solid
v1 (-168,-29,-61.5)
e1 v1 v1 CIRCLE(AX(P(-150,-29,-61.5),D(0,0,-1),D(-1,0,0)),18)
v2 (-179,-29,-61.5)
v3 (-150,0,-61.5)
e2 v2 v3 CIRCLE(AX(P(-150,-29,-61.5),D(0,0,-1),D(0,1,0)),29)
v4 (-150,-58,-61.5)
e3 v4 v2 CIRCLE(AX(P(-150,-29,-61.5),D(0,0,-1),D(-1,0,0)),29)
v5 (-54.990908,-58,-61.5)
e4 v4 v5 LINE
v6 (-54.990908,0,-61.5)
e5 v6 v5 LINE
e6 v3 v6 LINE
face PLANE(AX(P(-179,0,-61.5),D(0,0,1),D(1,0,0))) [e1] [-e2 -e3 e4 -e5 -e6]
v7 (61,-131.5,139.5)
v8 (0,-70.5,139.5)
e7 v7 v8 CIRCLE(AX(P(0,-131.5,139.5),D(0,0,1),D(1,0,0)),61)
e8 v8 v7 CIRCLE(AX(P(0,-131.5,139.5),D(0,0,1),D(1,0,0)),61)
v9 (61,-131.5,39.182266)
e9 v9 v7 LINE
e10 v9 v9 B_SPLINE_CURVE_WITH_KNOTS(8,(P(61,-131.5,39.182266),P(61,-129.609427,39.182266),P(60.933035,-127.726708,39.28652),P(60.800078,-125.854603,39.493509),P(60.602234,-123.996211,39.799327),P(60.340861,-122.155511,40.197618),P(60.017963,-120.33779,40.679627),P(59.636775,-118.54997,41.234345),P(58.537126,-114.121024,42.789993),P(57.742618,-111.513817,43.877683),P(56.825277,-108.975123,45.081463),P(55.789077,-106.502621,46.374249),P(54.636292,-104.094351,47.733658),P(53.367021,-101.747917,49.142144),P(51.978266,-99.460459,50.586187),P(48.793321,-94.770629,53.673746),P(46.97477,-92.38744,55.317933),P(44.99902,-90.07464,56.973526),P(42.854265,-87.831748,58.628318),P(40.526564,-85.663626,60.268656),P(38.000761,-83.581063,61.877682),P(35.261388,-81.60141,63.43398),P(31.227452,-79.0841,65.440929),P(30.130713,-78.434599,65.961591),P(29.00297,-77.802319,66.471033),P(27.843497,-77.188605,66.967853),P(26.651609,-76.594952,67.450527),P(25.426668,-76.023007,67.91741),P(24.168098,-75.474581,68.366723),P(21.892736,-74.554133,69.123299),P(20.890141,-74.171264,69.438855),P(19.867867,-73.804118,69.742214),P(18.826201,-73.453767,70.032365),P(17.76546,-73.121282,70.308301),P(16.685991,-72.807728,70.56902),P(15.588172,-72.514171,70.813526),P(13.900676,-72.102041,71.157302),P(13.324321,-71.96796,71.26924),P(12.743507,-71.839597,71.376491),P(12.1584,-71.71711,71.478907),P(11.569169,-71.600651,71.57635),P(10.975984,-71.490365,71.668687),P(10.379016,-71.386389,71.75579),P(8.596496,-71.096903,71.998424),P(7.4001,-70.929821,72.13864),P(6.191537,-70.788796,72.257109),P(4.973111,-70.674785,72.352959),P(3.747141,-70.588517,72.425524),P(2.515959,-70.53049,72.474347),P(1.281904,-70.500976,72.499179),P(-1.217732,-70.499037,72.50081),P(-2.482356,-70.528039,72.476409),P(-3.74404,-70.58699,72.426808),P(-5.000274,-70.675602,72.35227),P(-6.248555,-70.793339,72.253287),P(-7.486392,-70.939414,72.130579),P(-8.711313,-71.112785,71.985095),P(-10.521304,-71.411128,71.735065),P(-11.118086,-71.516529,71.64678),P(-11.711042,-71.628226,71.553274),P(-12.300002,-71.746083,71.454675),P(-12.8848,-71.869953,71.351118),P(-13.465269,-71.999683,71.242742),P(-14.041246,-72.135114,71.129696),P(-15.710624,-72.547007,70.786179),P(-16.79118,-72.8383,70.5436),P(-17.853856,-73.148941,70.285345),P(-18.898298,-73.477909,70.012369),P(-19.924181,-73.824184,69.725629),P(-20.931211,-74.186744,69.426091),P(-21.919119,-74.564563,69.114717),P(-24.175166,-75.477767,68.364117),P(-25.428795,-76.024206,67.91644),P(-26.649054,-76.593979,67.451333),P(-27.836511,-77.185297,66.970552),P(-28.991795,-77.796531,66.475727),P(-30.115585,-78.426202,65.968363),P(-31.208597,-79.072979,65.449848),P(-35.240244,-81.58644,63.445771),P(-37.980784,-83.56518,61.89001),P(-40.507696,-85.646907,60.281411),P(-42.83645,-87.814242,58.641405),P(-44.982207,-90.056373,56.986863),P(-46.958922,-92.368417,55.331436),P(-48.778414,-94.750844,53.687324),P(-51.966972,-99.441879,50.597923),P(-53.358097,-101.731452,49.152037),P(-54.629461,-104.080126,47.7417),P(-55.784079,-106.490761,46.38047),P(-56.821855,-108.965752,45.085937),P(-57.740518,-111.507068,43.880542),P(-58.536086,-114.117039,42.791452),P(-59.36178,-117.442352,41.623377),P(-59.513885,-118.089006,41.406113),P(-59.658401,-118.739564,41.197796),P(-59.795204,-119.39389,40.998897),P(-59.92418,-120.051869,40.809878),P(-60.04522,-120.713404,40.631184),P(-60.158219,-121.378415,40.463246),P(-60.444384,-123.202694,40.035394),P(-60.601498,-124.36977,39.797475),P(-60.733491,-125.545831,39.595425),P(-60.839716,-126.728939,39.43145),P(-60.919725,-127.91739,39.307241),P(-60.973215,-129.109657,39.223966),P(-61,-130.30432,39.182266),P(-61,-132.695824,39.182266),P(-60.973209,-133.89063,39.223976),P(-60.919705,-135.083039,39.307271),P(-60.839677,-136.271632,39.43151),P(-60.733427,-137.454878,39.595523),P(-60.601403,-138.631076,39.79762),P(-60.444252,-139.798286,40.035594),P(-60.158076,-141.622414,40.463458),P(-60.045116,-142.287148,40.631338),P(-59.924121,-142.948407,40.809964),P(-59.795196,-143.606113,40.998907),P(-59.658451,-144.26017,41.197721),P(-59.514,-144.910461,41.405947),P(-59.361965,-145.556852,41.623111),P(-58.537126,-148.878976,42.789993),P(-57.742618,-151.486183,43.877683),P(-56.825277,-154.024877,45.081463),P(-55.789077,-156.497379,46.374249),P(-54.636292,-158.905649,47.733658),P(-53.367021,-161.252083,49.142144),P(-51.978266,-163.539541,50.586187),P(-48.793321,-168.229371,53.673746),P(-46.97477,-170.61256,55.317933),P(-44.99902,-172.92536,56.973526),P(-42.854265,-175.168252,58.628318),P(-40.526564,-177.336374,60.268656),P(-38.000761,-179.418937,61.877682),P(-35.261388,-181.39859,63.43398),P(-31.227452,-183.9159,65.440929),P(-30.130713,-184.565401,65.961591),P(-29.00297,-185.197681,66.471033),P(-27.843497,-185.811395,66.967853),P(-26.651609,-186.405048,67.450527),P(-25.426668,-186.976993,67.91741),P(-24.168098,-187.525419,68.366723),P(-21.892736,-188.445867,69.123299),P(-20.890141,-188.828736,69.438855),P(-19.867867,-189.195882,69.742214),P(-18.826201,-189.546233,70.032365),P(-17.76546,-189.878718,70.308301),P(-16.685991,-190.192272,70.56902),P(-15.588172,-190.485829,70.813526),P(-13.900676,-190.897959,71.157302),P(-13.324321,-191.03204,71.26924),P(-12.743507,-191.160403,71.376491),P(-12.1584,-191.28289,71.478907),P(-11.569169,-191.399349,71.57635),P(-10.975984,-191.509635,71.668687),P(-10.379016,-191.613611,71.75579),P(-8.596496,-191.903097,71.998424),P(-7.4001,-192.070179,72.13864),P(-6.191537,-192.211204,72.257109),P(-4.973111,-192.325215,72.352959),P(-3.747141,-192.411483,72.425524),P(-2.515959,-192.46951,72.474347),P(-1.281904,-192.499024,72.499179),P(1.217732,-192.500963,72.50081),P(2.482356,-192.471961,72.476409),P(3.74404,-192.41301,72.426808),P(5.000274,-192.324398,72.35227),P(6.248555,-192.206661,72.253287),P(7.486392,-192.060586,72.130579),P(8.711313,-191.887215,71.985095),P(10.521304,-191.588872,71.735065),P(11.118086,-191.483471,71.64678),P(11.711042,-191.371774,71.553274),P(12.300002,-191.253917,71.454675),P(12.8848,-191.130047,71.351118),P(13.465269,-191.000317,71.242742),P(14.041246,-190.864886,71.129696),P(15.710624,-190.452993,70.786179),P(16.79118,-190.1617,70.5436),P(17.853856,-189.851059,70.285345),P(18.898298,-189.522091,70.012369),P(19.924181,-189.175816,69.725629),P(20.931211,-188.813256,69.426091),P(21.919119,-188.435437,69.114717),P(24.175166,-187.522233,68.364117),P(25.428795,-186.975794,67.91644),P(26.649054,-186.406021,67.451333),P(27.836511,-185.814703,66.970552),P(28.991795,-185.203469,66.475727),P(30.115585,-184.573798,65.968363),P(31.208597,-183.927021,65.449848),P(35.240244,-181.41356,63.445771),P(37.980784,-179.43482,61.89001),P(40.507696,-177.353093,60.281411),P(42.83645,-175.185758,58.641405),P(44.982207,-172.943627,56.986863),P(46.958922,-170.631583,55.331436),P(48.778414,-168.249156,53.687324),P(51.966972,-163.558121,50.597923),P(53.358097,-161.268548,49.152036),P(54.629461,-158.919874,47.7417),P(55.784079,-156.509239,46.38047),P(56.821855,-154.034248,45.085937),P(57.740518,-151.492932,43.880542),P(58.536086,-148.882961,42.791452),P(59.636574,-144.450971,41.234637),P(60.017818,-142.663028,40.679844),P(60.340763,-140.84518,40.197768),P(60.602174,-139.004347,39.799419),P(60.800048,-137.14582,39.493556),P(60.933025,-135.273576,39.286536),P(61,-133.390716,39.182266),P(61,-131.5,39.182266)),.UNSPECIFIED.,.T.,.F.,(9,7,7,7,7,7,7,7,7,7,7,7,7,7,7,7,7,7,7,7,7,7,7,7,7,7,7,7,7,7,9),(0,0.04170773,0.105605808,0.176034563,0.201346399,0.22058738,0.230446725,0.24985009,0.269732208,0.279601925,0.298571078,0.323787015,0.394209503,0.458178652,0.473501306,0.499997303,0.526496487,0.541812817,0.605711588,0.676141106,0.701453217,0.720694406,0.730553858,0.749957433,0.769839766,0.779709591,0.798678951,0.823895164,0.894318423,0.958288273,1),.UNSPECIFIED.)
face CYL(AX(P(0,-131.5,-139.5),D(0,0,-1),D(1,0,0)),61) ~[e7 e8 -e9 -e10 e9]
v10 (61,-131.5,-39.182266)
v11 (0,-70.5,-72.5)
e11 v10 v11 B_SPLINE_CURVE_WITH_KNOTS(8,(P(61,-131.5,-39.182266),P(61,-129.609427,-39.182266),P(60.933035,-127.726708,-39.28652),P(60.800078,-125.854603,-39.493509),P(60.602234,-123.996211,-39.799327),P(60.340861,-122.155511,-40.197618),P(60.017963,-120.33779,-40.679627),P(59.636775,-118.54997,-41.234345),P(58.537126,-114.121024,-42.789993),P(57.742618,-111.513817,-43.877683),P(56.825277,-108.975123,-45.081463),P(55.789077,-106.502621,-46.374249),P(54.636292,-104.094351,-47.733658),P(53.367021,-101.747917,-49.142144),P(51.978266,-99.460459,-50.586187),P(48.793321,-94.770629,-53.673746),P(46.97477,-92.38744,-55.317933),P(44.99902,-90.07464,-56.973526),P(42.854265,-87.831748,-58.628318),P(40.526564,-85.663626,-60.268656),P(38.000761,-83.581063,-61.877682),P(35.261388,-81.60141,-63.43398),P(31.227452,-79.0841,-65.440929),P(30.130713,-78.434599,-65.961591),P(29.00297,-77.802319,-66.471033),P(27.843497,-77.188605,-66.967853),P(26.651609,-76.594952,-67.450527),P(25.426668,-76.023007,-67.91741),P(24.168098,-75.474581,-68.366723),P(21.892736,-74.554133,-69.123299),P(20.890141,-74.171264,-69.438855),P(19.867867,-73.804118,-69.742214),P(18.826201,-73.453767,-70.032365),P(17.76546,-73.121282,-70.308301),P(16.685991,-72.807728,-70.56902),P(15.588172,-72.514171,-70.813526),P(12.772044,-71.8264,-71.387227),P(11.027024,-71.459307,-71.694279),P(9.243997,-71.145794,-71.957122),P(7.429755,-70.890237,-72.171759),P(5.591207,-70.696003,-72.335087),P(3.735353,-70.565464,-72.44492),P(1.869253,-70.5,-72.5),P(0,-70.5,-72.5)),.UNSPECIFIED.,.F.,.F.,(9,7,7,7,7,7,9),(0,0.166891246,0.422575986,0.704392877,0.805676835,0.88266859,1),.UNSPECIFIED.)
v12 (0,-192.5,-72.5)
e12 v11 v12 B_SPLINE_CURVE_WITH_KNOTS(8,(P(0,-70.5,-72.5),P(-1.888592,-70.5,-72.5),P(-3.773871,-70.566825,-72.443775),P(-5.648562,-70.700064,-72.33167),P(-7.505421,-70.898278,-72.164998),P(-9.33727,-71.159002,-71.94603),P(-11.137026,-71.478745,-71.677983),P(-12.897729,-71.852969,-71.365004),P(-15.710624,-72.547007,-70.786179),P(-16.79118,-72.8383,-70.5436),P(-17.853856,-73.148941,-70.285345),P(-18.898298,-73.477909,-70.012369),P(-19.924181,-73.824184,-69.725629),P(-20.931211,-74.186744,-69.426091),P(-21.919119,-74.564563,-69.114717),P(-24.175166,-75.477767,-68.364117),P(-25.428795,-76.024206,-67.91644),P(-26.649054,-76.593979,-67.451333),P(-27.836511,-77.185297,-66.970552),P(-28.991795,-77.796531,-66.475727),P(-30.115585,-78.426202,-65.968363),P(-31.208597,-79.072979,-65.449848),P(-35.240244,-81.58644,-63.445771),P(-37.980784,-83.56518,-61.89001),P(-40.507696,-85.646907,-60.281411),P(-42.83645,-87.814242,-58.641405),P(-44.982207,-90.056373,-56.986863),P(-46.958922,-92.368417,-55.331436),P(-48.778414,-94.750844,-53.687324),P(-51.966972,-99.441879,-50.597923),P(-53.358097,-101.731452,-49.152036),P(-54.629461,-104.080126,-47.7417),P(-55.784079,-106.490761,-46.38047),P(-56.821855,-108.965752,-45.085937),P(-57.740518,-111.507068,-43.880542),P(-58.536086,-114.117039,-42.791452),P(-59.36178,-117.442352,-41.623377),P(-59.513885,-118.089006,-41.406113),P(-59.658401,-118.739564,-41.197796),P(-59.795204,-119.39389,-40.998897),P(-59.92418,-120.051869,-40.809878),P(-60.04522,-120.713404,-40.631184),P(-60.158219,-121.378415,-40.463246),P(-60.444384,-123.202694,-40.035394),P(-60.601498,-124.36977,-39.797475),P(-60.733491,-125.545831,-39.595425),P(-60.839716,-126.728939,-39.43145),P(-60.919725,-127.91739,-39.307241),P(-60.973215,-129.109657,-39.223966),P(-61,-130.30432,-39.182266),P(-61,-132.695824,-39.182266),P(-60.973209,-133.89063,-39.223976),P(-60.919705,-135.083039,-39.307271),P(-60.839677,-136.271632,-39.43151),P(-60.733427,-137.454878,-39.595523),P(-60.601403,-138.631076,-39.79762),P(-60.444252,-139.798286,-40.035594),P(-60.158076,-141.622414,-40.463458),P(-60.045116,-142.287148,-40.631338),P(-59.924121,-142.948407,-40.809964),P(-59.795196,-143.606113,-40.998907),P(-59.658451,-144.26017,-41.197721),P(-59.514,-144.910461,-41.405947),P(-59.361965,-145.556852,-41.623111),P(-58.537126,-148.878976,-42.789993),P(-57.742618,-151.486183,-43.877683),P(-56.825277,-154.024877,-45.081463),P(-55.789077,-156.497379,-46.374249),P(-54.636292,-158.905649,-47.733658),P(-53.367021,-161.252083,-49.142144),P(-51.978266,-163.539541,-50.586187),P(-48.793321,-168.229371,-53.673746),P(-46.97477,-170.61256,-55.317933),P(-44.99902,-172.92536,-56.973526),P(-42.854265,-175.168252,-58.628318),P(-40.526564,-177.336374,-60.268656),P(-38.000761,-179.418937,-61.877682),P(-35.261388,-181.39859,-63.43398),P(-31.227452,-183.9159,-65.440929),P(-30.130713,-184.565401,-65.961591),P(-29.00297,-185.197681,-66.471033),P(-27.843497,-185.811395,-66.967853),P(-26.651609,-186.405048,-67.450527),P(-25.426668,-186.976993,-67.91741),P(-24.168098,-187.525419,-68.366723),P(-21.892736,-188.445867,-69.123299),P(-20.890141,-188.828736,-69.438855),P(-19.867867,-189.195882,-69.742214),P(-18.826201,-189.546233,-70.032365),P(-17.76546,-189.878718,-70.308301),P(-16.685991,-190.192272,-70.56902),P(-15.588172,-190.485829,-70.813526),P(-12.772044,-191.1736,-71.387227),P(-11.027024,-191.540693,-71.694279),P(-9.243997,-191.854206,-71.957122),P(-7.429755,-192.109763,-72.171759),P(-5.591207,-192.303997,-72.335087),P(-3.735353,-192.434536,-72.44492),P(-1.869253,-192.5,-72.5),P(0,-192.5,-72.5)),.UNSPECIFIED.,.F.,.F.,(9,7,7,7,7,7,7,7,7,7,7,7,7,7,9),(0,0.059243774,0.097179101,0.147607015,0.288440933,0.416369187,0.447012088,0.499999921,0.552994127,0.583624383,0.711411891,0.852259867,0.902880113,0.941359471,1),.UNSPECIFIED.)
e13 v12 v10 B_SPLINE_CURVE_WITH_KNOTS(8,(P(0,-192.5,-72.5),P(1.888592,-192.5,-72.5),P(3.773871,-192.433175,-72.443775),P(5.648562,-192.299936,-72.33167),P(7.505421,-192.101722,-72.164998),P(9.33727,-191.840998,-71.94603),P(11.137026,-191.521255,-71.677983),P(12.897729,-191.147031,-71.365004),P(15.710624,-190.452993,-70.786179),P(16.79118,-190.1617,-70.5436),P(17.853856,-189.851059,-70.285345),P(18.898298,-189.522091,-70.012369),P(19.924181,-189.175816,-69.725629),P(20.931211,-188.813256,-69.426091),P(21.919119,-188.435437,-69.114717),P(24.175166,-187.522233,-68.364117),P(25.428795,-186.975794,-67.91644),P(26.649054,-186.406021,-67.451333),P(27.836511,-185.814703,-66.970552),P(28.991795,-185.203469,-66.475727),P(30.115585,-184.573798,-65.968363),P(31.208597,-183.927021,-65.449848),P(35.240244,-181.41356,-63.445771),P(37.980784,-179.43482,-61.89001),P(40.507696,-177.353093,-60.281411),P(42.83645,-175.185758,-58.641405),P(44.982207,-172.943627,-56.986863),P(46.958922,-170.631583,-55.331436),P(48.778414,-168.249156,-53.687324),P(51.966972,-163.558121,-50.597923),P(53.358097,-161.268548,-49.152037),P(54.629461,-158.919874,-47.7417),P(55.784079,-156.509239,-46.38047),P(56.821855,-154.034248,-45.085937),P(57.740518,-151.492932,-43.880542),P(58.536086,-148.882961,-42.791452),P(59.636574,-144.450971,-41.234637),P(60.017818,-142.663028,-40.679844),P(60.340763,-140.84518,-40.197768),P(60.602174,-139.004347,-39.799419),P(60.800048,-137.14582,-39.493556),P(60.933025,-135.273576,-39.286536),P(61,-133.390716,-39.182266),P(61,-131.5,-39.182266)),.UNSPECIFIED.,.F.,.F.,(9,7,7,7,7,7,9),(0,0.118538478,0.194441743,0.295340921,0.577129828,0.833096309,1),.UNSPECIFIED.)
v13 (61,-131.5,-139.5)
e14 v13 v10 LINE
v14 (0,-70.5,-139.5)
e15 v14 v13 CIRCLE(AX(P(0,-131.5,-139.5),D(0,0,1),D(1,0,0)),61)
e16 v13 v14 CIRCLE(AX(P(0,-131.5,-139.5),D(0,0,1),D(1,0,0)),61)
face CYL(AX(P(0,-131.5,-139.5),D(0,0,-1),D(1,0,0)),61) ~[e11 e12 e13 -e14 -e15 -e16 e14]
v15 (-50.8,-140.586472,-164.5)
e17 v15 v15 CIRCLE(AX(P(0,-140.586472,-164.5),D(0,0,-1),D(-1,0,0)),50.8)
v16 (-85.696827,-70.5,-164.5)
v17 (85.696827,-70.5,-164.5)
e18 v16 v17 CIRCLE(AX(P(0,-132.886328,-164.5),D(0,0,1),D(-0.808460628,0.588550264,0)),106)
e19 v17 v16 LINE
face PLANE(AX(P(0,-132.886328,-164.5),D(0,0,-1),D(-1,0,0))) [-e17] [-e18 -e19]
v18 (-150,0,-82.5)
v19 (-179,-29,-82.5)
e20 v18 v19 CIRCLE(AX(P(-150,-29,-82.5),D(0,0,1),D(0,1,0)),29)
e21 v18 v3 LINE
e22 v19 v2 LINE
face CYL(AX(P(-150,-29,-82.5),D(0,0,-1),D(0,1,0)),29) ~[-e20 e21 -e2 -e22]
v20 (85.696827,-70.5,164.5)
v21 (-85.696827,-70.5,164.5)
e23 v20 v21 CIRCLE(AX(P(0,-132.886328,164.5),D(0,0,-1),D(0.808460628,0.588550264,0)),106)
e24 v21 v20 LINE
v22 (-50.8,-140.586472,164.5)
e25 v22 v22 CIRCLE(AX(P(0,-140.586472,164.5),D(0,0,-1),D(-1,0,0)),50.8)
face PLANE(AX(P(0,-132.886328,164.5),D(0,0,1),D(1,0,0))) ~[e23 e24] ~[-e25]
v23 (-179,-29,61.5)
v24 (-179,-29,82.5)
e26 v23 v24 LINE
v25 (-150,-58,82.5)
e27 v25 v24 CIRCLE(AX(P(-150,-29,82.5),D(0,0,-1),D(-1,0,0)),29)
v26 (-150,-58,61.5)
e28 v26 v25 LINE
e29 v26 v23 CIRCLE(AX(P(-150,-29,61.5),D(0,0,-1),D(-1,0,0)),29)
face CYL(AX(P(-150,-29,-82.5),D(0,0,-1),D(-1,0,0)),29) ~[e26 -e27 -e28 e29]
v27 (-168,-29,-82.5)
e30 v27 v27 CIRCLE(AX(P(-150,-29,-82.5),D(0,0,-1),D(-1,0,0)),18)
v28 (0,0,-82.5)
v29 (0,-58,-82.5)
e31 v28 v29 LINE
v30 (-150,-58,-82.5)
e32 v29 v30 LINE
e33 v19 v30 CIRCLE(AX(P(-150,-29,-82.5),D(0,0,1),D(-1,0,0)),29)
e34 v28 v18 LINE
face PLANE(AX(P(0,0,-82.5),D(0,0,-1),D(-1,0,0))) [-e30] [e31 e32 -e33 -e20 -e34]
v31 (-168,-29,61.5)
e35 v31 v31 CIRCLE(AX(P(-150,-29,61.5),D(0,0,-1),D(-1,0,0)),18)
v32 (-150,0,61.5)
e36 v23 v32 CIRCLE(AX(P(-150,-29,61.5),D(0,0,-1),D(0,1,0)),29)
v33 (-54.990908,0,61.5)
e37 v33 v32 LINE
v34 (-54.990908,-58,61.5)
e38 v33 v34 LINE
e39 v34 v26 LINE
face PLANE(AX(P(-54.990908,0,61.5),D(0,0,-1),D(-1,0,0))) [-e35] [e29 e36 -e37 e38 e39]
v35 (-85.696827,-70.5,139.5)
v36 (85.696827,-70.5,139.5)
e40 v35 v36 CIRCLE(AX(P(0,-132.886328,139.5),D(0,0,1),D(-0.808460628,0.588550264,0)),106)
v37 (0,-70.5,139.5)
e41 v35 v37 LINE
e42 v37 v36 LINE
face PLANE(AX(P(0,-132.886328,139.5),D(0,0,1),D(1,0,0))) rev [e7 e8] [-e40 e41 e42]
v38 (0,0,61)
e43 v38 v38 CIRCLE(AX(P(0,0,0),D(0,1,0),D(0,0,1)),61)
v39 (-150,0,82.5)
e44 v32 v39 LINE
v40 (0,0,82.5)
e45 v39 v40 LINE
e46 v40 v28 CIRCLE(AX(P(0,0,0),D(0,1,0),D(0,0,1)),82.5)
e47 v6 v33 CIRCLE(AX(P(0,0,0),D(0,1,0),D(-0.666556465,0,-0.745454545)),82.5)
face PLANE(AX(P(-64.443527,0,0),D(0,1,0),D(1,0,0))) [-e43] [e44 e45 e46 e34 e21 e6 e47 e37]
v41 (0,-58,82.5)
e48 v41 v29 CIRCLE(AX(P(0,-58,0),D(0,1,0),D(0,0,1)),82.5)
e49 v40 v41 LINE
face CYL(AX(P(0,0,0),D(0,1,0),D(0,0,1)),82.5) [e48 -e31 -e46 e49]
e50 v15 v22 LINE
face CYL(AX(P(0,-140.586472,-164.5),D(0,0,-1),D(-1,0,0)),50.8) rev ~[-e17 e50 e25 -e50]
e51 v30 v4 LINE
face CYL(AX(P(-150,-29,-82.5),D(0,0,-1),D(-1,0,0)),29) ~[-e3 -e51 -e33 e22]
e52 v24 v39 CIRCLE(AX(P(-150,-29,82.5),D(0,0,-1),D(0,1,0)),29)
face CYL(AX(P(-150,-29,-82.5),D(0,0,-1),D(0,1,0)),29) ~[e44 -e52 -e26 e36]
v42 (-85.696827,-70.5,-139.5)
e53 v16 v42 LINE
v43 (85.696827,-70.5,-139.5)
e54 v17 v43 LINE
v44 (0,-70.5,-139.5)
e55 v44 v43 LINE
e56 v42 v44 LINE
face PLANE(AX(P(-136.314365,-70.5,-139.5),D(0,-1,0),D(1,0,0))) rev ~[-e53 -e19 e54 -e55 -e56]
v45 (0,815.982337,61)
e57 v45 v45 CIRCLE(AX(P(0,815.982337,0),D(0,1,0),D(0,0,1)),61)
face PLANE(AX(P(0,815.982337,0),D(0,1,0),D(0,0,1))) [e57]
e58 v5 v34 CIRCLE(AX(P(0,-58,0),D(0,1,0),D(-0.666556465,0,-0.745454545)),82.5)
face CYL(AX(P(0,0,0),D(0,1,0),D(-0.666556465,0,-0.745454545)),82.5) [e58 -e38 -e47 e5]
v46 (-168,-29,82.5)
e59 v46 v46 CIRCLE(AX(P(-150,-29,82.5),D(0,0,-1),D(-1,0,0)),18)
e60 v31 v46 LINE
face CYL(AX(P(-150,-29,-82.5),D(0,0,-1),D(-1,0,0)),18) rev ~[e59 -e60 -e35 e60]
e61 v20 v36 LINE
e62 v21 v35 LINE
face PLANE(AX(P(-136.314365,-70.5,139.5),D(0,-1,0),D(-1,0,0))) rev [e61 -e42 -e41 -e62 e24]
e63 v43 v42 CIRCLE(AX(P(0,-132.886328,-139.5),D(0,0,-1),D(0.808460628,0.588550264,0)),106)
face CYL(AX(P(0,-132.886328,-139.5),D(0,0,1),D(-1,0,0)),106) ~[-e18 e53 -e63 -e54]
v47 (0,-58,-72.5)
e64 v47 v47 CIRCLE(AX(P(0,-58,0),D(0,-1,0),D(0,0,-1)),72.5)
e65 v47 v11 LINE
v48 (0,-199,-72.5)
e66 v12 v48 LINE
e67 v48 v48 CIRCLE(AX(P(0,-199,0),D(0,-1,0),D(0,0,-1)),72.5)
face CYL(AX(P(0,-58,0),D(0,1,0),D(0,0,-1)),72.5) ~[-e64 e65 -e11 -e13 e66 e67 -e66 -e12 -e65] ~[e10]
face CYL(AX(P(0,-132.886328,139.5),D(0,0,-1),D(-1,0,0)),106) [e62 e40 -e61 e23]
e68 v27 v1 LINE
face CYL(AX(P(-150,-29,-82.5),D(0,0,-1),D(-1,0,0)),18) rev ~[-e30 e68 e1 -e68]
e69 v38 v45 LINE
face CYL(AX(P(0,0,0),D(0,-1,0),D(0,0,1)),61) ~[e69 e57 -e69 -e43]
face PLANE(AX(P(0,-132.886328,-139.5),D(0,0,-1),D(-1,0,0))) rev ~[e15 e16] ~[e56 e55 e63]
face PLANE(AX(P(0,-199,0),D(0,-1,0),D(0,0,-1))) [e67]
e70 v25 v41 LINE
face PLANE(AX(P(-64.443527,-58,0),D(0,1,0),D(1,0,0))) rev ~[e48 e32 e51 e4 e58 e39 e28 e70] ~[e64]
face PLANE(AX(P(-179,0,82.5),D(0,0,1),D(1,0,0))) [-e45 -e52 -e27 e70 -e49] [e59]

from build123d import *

# Parameters (mm, degrees)
SKETCH1_R                = 61
BOSS_EXTRUDE1_DEPTH      = 815.982336818
BOSS_EXTRUDE2_DEPTH      = 58
CUT_EXTRUDE1_DEPTH       = 493
CUT_EXTRUDE2_DEPTH       = 493
BOSS_EXTRUDE3_DEPTH      = 139.5
BOSS_EXTRUDE3_DEPTH_BACK = 139.5
SKETCH6_R                = 61
SKETCH7_R                = 106
BOSS_EXTRUDE5_DEPTH      = 25
CUT_EXTRUDE3_DEPTH       = 51
SKETCH9_R                = 72.5
BOSS_EXTRUDE6_DEPTH      = 141
SKETCH11_R               = 38.5
CUT_EXTRUDE6_DEPTH       = 450
SKETCH12_R               = 50.8
CUT_EXTRUDE7_DEPTH       = 630


with BuildPart() as part:
    # Sketch1 → Boss-Extrude1 (new body)
    with BuildSketch(Plane(origin=(0, 0, 0), x_dir=(1, 0, 0), z_dir=(0, 1, 0))):
        Circle(SKETCH1_R)
    extrude(amount=BOSS_EXTRUDE1_DEPTH)

    # Sketch2 → Boss-Extrude2 (add)
    with BuildSketch(Plane(origin=(0, 0, 0), x_dir=(-1, 0, 0), z_dir=(0, -1, 0))):
        with BuildLine():
            Line((0, 82.5), (179, 82.5))
            Line((179, 82.5), (179, 61.5))
            Line((179, 61.5), (54.990908339, 61.5))
            ThreePointArc((54.990908339, 61.5), (82.5, 0), (54.990908339, -61.5))
            Line((54.990908339, -61.5), (179, -61.5))
            Line((179, -61.5), (179, -82.5))
            Line((179, -82.5), (0, -82.5))
            ThreePointArc((0, -82.5), (-82.5, 0), (0, 82.5))
        make_face()
    extrude(amount=BOSS_EXTRUDE2_DEPTH)

    # Sketch3 → Cut-Extrude1 (cut)
    with BuildSketch(Plane(origin=(0, 0, -82.5), x_dir=(-1, 0, 0), z_dir=(0, 0, -1))):
        with BuildLine():
            Line((179, 0), (150, 0))
            ThreePointArc((150, 0), (170.506096654, -8.493903346), (179, -29))
            Line((179, -29), (179, 0))
        make_face()
        with BuildLine():
            ThreePointArc((179, -29), (170.506096654, -49.506096654), (150, -58))
            Line((150, -58), (179, -58))
            Line((179, -58), (179, -29))
        make_face()
    extrude(amount=-CUT_EXTRUDE1_DEPTH, mode=Mode.SUBTRACT)

    # Sketch3<3> → Cut-Extrude2 (cut)
    with BuildSketch(Plane(origin=(0, 0, -82.5), x_dir=(-1, 0, 0), z_dir=(0, 0, -1))):
        with BuildLine():
            ThreePointArc((168, -29), (150, -11), (132, -29))
            ThreePointArc((132, -29), (150, -47), (168, -29))
        make_face()
    extrude(amount=-CUT_EXTRUDE2_DEPTH, mode=Mode.SUBTRACT)



with BuildPart() as body_2:
    # Sketch6 → Boss-Extrude3 (new, two sides: drawn at the far end of the back side and taken through both)
    with BuildSketch(Plane.XY.offset(-BOSS_EXTRUDE3_DEPTH_BACK)):
        with Locations((0, -131.5)):
            Circle(SKETCH6_R)
    extrude(amount=BOSS_EXTRUDE3_DEPTH + BOSS_EXTRUDE3_DEPTH_BACK)

    # Sketch7 → Boss-Extrude5 (add)
    with BuildSketch(Plane(origin=(0, 0, -139.5), x_dir=(-1, 0, 0), z_dir=(0, 0, -1))):
        with Locations((0, -132.886327958)):
            Circle(SKETCH7_R)
    boss_extrude5 = extrude(amount=BOSS_EXTRUDE5_DEPTH)

    # Sketch8 → Cut-Extrude3 (cut)
    with BuildSketch(Plane.XY.offset(-139.5)):
        Polygon((0, -70.5), (144.590777868, -70.5), (144.590777868, 11.025223161), (-136.314365489, 11.025223161), (-136.314365489, -70.5), align=None)
    cut_extrude3 = extrude(amount=-CUT_EXTRUDE3_DEPTH, mode=Mode.SUBTRACT)

    # Mirror1: Boss-Extrude5, Cut-Extrude3 across plane
    add(boss_extrude5.mirror(Plane.XY))
    add(cut_extrude3.mirror(Plane.XY), mode=Mode.SUBTRACT)


with BuildPart() as part_1:
    add(part.part)

    add(body_2.part)  # Boss-Extrude6 merges body 2
    # Sketch9 → Boss-Extrude6 (add)
    with BuildSketch(Plane.XZ.offset(58)):
        Circle(SKETCH9_R)
    extrude(amount=BOSS_EXTRUDE6_DEPTH)

    # Sketch11 → Cut-Extrude6 (cut)
    with BuildSketch(Plane(origin=(0, 0, -164.5), x_dir=(-1, 0, 0), z_dir=(0, 0, -1))):
        with Locations((0, -141.739564151)):
            Circle(SKETCH11_R)
    extrude(amount=-CUT_EXTRUDE6_DEPTH, mode=Mode.SUBTRACT)

    # Sketch12 → Cut-Extrude7 (cut)
    with BuildSketch(Plane(origin=(0, 0, -164.5), x_dir=(-1, 0, 0), z_dir=(0, 0, -1))):
        with Locations((0, -140.586472034)):
            Circle(SKETCH12_R)
    extrude(amount=-CUT_EXTRUDE7_DEPTH, mode=Mode.SUBTRACT)


solid = part_1.part
